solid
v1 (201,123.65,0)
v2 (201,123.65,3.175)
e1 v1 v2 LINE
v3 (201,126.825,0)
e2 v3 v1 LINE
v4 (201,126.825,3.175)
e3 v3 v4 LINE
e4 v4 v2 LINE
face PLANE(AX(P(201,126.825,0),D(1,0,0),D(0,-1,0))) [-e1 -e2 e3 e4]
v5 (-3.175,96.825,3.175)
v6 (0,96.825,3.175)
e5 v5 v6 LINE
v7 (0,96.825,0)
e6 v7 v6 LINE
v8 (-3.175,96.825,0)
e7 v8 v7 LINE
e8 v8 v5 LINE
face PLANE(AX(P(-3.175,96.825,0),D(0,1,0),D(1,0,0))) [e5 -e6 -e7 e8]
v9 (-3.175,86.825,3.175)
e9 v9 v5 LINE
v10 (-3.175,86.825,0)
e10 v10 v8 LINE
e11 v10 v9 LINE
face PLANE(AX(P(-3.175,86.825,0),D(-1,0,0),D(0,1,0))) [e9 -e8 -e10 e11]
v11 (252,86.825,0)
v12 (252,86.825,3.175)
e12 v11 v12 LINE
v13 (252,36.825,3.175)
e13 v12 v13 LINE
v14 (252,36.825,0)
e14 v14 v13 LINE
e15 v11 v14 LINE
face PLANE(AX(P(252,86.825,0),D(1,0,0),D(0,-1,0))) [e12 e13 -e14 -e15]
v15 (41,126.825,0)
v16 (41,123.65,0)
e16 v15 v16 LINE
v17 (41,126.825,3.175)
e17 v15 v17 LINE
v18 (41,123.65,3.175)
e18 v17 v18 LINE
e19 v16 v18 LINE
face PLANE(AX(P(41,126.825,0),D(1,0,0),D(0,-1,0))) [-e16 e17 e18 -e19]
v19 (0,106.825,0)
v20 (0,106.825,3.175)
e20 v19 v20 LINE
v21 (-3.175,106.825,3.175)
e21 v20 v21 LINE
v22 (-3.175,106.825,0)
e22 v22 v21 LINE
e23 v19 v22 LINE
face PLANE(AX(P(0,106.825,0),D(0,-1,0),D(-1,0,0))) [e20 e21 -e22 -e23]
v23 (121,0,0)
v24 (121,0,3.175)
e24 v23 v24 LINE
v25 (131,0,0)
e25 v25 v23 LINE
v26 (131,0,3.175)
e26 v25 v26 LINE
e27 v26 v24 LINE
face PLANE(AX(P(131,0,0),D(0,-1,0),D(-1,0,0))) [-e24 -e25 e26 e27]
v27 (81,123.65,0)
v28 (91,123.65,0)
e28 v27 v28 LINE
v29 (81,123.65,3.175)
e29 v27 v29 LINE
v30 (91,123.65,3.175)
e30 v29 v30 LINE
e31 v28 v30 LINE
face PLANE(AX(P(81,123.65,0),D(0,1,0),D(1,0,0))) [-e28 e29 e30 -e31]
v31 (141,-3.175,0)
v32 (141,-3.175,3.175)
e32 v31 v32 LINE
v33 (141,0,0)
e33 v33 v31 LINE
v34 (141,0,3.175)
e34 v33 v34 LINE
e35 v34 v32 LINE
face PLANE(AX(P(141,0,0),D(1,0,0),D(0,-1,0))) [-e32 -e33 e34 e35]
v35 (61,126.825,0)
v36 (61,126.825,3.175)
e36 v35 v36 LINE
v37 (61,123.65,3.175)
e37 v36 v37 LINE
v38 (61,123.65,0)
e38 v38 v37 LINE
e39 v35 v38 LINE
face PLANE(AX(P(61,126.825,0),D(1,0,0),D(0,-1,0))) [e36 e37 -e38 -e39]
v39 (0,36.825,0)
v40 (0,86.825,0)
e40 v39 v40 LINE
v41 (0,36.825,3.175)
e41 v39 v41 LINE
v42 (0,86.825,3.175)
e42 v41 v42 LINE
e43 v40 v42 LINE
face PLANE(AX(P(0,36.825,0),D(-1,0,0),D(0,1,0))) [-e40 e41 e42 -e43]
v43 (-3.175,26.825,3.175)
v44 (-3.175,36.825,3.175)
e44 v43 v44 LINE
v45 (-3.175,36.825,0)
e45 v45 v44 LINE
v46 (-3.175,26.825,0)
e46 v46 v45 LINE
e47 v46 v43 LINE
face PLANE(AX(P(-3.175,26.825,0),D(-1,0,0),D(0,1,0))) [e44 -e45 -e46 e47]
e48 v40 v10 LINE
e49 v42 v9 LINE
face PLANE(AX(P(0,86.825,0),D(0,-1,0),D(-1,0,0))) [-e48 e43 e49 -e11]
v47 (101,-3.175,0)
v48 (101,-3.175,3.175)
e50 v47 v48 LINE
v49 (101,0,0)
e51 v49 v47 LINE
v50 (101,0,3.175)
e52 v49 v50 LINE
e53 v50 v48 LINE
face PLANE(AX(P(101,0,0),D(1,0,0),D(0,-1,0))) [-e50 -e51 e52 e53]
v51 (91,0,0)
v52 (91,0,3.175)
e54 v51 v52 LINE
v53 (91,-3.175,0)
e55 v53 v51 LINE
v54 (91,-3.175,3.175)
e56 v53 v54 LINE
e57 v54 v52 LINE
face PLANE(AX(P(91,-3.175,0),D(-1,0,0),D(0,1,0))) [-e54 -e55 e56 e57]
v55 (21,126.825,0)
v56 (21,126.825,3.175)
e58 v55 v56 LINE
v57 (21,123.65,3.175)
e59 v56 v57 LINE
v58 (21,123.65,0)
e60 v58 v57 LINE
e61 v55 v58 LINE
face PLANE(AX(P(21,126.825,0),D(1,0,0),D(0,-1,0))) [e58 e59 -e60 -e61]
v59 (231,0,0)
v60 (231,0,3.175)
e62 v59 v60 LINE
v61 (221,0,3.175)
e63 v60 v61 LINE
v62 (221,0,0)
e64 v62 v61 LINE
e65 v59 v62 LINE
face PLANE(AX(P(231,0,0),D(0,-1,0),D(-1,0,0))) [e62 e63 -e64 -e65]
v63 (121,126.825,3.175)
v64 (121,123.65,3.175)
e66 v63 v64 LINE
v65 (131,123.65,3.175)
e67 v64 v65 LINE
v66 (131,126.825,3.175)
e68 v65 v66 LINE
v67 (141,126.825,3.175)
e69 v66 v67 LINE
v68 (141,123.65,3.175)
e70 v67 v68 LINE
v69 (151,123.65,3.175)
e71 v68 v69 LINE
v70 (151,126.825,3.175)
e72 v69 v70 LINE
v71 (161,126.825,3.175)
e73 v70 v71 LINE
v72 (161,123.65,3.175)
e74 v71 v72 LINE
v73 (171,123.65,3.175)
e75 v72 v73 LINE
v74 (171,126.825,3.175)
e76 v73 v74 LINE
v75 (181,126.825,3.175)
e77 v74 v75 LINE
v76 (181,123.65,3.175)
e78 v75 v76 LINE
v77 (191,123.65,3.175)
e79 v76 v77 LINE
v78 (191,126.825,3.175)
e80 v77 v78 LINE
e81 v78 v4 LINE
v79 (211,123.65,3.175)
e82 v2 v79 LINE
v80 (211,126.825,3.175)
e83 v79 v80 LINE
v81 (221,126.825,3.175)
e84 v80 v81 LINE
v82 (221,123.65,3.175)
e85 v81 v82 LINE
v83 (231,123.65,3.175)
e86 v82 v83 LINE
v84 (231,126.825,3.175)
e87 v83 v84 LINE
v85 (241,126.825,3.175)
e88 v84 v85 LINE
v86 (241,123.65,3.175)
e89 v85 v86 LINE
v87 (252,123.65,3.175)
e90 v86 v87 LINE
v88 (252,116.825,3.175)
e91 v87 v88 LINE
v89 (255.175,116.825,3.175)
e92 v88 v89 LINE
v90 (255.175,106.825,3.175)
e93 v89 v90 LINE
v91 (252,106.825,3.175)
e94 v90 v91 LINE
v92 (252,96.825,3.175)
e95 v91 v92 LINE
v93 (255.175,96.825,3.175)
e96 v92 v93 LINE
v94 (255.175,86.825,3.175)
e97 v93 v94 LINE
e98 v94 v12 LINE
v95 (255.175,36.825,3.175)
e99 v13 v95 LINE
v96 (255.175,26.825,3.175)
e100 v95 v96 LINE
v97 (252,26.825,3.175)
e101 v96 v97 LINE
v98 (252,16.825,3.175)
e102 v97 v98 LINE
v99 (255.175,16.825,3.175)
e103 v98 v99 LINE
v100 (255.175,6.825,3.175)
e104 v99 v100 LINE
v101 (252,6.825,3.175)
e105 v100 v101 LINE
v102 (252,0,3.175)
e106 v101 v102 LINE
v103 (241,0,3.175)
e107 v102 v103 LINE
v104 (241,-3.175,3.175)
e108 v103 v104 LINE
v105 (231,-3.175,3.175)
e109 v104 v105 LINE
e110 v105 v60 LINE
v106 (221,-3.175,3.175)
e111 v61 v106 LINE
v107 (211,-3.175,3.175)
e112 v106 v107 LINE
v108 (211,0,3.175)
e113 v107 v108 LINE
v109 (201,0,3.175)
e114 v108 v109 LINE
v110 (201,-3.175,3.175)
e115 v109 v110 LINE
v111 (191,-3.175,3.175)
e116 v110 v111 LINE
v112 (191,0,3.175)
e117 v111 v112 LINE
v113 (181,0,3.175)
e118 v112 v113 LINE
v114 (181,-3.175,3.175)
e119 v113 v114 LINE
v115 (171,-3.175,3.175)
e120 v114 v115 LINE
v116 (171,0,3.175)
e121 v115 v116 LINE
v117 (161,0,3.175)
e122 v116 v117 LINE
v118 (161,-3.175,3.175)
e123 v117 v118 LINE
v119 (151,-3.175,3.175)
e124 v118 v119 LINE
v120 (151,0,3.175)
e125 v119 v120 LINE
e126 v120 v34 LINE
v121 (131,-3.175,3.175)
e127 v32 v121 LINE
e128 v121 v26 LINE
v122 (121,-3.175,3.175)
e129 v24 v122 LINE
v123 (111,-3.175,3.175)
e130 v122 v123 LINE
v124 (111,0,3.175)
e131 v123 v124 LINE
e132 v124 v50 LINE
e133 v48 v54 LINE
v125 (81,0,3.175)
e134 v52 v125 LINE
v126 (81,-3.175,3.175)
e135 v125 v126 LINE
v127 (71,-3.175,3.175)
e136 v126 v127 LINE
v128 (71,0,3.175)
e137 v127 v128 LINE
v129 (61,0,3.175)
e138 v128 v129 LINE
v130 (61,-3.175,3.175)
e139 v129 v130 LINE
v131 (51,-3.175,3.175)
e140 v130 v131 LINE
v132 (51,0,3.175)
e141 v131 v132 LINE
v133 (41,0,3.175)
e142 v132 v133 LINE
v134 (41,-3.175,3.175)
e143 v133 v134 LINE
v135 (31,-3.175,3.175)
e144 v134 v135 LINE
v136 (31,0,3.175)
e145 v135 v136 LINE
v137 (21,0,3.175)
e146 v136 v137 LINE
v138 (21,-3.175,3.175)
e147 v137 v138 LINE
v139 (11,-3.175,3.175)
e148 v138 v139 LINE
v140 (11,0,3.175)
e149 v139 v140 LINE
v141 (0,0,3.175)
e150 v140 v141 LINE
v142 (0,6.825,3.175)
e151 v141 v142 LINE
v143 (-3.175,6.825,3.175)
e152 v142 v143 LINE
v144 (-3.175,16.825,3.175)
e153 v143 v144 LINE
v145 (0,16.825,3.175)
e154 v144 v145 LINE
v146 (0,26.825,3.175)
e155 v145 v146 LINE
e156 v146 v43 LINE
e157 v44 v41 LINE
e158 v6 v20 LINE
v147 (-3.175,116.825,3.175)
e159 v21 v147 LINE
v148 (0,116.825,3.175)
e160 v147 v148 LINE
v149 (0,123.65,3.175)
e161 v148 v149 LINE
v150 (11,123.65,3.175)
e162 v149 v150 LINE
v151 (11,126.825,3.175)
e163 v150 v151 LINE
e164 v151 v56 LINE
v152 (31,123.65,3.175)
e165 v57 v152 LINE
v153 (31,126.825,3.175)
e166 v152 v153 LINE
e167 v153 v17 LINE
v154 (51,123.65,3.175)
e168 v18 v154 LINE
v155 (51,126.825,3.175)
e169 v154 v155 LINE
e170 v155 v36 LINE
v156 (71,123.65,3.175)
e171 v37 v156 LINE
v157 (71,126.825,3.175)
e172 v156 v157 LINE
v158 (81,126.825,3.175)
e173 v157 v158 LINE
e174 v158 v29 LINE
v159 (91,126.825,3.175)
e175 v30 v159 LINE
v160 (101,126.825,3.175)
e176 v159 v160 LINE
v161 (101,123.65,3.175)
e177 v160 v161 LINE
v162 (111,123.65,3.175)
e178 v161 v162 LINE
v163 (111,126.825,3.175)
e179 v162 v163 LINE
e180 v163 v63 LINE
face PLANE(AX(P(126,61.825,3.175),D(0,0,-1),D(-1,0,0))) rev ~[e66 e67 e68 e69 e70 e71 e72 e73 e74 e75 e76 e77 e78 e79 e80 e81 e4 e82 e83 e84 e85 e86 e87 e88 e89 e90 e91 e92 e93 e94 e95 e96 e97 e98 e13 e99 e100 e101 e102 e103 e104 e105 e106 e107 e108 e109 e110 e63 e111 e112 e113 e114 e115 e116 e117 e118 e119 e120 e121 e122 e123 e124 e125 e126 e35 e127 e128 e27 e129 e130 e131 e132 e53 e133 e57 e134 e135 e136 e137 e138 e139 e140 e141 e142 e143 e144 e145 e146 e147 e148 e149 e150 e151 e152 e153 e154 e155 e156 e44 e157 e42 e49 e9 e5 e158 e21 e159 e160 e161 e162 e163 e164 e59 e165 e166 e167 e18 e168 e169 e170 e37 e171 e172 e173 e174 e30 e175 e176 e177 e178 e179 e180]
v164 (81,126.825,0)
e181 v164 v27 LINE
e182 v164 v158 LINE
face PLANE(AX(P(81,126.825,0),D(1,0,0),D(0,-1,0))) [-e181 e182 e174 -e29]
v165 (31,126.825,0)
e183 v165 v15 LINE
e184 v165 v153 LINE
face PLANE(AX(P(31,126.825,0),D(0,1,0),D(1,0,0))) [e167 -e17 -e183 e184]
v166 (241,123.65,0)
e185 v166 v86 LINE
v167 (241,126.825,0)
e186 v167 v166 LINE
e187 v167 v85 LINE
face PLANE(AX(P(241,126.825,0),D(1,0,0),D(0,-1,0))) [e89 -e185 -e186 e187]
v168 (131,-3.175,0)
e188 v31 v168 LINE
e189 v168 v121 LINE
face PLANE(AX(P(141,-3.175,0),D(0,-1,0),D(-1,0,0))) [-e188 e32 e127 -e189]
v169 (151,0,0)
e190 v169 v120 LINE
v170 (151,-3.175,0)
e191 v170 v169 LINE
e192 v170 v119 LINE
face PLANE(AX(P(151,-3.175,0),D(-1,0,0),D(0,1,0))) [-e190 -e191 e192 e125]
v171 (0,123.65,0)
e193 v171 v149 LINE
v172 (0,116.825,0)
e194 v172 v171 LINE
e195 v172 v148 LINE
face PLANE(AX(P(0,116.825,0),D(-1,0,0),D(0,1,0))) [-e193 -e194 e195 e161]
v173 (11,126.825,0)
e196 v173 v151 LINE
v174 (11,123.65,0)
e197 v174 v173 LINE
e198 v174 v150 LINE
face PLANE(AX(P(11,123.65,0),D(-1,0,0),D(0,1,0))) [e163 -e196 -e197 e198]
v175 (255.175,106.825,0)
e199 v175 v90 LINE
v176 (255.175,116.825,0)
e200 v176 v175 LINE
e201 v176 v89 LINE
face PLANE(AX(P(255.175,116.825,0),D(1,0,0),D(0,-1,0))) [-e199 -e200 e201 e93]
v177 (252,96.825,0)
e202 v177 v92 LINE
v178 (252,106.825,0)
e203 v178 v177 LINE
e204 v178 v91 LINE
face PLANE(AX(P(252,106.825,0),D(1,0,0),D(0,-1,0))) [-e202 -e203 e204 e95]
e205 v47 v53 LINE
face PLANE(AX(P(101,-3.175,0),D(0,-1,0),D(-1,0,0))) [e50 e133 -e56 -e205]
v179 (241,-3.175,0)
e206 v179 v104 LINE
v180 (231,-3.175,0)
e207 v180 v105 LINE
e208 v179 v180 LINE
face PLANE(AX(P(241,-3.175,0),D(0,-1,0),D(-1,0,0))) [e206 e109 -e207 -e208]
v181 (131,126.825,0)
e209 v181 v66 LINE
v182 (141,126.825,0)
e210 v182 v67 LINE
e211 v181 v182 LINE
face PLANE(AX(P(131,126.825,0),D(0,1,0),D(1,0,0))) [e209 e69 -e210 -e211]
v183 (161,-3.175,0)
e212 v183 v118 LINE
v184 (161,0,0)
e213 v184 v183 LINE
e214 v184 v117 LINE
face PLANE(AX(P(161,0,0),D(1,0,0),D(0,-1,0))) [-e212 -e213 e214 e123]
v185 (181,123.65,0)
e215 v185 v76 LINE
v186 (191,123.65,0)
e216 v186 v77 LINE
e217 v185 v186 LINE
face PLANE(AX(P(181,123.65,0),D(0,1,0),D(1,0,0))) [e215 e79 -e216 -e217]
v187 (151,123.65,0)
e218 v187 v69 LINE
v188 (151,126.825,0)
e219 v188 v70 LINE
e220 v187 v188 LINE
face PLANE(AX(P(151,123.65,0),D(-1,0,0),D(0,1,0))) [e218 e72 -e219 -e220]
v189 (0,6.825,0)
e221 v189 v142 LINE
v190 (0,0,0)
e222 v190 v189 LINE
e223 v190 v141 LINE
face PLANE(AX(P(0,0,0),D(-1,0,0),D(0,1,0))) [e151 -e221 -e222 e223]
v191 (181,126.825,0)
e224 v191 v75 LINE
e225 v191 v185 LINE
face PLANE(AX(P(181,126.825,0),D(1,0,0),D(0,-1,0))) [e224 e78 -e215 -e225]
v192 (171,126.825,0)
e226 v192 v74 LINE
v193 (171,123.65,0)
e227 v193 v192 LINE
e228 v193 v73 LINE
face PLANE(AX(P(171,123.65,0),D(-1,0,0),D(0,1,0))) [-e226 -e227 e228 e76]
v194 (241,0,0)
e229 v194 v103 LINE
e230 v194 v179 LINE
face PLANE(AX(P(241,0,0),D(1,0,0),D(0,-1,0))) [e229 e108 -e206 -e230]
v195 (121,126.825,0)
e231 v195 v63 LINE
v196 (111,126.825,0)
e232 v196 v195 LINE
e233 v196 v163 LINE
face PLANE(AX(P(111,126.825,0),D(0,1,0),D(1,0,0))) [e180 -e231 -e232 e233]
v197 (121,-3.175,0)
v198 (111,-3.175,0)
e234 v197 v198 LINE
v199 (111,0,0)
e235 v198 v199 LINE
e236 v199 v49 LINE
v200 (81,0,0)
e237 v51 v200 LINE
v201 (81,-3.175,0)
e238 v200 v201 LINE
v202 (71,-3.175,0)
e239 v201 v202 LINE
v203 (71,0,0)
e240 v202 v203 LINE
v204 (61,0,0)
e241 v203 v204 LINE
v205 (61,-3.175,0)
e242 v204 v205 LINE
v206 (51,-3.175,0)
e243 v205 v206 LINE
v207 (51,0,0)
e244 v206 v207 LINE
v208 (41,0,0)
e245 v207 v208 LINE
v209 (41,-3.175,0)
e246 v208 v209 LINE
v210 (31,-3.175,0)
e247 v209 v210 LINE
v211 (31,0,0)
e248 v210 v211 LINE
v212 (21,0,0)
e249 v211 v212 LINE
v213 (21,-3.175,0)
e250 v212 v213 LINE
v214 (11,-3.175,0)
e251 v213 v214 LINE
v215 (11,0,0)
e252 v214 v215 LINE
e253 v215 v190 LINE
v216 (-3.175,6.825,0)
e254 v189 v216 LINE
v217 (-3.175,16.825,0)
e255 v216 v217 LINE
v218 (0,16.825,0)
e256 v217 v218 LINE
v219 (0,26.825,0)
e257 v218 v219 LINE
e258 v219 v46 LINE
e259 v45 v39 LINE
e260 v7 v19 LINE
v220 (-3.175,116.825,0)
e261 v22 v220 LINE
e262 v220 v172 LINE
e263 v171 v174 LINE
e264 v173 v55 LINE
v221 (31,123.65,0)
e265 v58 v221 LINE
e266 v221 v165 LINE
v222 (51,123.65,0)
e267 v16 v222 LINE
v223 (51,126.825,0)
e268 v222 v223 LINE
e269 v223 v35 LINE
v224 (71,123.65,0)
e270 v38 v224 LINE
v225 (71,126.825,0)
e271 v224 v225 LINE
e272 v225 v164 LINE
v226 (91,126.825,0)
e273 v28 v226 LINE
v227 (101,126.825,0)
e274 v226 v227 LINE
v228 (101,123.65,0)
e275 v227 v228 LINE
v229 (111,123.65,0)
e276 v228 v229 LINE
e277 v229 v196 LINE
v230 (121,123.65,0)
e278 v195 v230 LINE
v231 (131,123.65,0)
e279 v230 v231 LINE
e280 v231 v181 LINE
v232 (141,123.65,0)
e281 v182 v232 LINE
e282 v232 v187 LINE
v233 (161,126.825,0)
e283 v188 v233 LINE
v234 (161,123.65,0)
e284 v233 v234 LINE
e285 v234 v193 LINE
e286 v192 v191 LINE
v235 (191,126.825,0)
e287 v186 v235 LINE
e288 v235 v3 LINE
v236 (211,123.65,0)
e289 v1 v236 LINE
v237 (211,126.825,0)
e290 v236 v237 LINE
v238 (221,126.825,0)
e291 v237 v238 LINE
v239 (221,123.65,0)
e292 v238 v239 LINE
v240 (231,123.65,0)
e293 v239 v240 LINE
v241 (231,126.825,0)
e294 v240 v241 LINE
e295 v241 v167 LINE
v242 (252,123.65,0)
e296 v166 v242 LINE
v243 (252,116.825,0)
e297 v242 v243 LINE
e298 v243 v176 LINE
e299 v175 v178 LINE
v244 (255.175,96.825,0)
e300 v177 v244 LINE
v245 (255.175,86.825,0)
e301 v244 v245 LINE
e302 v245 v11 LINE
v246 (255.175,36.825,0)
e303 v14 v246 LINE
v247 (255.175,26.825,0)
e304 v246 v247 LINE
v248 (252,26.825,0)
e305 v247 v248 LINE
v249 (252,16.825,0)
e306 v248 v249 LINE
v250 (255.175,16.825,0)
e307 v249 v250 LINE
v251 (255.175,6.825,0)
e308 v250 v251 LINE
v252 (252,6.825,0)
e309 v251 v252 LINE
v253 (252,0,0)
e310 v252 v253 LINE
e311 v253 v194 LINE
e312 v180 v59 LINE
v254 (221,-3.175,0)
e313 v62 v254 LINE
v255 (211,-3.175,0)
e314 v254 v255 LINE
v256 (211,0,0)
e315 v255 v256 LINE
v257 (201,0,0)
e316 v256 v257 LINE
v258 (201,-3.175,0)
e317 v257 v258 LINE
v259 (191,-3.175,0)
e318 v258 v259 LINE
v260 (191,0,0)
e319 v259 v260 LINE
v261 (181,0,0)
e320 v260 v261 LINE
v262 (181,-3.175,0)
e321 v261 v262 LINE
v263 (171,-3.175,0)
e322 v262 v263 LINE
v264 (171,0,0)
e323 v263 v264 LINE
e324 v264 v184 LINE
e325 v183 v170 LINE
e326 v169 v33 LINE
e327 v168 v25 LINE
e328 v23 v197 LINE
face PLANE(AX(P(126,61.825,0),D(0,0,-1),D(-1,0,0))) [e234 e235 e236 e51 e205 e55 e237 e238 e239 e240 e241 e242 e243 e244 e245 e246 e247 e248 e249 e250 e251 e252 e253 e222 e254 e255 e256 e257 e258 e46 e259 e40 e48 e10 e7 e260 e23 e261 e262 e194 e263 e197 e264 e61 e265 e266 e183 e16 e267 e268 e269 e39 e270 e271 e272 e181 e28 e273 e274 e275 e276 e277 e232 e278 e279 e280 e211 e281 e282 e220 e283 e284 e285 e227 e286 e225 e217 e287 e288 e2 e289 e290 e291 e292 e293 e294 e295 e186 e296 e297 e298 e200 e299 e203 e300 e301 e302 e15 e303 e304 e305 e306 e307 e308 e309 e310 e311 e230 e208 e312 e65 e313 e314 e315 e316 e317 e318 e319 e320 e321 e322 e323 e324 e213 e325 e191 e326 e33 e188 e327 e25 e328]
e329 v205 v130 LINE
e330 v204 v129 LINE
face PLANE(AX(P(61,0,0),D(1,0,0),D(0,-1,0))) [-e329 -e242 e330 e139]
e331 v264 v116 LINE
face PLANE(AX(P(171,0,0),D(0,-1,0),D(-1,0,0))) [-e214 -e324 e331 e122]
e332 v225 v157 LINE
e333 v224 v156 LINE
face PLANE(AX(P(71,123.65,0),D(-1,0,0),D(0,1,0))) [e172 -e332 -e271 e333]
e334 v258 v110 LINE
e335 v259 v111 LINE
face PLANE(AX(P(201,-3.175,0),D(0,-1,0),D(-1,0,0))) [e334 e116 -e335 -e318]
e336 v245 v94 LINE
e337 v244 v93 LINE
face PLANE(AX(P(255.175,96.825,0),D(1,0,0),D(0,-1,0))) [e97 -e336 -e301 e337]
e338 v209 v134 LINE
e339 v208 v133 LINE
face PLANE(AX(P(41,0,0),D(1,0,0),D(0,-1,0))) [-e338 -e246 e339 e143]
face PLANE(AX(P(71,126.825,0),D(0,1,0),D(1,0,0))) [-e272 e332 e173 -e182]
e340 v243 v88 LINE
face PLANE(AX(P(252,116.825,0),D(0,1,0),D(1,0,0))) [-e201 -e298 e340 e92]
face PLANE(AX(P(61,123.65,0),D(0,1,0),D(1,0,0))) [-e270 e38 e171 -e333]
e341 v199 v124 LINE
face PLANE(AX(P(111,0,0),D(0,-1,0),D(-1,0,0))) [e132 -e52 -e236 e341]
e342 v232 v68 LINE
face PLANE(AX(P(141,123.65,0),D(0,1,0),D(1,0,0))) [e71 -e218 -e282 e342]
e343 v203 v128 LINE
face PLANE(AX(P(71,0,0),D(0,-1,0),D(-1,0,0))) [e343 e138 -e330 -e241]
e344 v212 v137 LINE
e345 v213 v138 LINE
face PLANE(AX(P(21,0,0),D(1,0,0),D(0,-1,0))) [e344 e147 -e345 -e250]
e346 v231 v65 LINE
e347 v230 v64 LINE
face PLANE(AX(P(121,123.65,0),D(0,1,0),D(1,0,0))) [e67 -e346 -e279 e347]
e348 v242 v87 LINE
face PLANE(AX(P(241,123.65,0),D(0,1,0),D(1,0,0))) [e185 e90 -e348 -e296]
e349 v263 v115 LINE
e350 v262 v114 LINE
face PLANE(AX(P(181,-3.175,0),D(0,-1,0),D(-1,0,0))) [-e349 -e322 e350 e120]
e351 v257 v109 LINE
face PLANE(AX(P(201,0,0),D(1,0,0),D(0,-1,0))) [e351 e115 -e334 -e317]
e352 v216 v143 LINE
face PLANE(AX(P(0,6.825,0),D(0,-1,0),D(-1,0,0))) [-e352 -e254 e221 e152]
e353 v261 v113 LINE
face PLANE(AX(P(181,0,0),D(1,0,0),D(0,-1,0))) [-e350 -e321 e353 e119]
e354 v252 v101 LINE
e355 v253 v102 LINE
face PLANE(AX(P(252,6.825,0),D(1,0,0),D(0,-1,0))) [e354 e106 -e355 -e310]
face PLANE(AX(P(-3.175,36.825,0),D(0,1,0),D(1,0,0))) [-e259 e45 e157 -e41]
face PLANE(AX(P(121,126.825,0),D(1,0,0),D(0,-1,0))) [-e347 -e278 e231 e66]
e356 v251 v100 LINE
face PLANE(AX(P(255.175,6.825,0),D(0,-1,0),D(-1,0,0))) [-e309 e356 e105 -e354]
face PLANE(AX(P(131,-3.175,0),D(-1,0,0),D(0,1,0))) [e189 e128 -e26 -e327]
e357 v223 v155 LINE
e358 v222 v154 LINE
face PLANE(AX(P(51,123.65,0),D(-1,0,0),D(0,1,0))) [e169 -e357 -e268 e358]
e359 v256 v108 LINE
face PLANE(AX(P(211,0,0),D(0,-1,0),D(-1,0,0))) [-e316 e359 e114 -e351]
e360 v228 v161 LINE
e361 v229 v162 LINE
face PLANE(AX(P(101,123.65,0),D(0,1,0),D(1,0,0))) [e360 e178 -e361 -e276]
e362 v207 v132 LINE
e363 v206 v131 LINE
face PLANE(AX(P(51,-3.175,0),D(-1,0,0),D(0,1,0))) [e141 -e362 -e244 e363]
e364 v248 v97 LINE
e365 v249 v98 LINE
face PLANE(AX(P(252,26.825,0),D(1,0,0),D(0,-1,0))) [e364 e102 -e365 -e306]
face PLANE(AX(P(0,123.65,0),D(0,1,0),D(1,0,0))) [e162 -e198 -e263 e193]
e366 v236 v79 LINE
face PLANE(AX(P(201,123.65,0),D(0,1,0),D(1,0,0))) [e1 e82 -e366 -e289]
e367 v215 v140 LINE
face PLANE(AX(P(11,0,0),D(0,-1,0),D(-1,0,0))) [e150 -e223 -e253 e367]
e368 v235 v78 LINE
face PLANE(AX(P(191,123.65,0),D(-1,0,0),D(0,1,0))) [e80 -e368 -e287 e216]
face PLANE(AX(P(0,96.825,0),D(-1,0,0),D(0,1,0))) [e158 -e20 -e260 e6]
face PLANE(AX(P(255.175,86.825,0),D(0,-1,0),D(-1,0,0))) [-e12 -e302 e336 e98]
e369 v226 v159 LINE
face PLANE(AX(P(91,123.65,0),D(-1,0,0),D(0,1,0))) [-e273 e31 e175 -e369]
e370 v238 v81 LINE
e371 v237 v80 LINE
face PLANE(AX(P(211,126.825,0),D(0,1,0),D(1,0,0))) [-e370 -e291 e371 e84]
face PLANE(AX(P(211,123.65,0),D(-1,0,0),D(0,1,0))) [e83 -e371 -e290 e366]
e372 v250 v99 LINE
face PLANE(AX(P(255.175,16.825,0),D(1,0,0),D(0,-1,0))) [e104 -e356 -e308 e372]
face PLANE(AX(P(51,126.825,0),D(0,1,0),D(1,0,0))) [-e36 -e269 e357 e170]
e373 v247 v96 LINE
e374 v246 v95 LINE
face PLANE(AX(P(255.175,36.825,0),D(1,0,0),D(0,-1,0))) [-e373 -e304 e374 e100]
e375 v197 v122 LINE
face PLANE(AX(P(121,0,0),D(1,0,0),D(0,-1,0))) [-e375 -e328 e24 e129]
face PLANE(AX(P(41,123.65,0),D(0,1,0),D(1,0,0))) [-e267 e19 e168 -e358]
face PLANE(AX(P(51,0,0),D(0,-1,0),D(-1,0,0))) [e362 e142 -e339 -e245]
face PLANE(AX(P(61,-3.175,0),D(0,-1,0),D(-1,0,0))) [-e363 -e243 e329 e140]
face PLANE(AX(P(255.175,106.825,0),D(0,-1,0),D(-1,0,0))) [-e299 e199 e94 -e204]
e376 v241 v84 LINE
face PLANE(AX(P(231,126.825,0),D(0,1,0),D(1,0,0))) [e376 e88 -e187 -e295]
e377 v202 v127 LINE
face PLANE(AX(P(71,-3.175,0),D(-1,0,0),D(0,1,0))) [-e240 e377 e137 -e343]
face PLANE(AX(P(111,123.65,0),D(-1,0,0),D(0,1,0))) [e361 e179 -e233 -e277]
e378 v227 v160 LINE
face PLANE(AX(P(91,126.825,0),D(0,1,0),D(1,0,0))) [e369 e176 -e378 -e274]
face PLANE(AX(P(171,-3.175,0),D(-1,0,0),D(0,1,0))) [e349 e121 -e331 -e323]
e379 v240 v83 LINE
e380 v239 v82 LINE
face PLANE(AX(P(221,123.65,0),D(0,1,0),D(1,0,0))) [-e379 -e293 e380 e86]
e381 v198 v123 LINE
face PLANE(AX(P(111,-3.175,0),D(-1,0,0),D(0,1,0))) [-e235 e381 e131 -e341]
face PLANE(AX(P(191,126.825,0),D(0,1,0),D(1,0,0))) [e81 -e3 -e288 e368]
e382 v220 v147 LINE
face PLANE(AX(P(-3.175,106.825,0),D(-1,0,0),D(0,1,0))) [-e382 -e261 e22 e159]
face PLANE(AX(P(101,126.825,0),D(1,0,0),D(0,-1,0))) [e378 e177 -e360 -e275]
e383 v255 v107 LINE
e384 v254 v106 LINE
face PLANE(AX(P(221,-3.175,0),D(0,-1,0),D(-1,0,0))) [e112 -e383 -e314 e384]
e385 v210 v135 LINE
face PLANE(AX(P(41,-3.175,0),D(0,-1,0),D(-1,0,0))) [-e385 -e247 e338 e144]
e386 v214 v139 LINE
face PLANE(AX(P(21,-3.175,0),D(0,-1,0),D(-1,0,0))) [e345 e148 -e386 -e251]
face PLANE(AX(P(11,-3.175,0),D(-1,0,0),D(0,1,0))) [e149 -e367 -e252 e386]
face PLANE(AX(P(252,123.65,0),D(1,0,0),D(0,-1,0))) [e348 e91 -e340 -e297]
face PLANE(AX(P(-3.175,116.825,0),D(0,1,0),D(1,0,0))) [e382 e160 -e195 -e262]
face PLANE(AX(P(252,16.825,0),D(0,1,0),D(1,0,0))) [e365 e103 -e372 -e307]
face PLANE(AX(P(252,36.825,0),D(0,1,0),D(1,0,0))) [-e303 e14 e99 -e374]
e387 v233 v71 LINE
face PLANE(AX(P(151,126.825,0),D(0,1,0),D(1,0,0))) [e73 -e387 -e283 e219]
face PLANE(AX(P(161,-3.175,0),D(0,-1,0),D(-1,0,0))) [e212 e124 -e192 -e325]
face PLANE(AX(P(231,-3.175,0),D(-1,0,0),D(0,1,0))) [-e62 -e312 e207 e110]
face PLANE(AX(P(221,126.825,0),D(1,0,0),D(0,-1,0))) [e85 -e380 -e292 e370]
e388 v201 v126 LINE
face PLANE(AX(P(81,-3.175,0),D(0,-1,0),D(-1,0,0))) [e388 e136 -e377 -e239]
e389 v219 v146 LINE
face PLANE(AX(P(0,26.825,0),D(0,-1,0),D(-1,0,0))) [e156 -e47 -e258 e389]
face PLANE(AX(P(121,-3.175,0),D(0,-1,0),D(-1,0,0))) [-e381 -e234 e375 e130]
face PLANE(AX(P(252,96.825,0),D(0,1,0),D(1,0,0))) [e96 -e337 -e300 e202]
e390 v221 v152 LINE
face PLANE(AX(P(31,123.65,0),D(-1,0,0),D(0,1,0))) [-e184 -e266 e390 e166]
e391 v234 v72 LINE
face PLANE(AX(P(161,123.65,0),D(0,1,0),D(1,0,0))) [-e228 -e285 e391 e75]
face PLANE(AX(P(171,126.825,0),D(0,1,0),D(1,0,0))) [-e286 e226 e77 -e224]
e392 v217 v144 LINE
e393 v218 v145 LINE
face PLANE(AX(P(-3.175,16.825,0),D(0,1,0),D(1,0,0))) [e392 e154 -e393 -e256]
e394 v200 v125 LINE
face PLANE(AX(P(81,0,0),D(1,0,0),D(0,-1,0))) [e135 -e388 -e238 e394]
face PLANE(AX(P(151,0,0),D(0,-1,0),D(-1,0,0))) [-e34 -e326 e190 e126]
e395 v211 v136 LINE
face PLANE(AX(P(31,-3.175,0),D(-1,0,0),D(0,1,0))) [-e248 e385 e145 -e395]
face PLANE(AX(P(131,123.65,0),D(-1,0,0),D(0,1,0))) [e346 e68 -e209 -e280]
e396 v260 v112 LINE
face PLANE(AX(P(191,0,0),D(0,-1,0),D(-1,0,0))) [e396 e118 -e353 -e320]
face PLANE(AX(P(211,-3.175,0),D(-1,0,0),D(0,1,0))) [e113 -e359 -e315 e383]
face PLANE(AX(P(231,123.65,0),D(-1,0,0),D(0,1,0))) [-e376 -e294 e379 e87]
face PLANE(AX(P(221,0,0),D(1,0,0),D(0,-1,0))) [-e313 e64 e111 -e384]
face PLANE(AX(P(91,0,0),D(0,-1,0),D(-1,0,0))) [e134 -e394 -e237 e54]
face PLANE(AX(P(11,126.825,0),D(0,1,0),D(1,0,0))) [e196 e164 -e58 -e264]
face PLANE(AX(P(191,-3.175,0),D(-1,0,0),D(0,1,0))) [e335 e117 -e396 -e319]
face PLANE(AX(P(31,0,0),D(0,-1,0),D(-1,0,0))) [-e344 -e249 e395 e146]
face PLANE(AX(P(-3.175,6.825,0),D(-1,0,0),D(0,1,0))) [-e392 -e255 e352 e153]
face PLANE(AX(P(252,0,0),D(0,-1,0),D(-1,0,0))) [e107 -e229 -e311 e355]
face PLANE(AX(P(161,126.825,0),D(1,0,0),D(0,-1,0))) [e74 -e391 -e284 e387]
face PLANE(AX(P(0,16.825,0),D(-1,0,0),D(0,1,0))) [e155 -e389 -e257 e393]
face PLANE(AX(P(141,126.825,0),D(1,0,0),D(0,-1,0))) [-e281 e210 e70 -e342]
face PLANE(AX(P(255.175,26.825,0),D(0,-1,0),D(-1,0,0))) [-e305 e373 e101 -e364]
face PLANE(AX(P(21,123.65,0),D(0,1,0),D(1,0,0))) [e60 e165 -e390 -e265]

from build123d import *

# Parameters (mm, degrees)
BOSS_EXTRUDE1_DEPTH = 3.175


with BuildPart() as part:
    # Sketch1 → Boss-Extrude1 (new body)
    with BuildSketch(Plane.XY):
        Polygon((31, 123.65), (31, 126.825), (41, 126.825), (41, 123.65), (51, 123.65), (51, 126.825), (61, 126.825), (61, 123.65), (71, 123.65), (71, 126.825), (81, 126.825), (81, 123.65), (91, 123.65), (91, 126.825), (101, 126.825), (101, 123.65), (111, 123.65), (111, 126.825), (121, 126.825), (121, 123.65), (131, 123.65), (131, 126.825), (141, 126.825), (141, 123.65), (151, 123.65), (151, 126.825), (161, 126.825), (161, 123.65), (171, 123.65), (171, 126.825), (181, 126.825), (181, 123.65), (191, 123.65), (191, 126.825), (201, 126.825), (201, 123.65), (211, 123.65), (211, 126.825), (221, 126.825), (221, 123.65), (231, 123.65), (231, 126.825), (241, 126.825), (241, 123.65), (252, 123.65), (252, 116.825), (255.175, 116.825), (255.175, 106.825), (252, 106.825), (252, 96.825), (255.175, 96.825), (255.175, 86.825), (252, 86.825), (252, 36.825), (255.175, 36.825), (255.175, 26.825), (252, 26.825), (252, 16.825), (255.175, 16.825), (255.175, 6.825), (252, 6.825), (252, 0), (241, 0), (241, -3.175), (231, -3.175), (231, 0), (221, 0), (221, -3.175), (211, -3.175), (211, 0), (201, 0), (201, -3.175), (191, -3.175), (191, 0), (181, 0), (181, -3.175), (171, -3.175), (171, 0), (161, 0), (161, -3.175), (151, -3.175), (151, 0), (141, 0), (141, -3.175), (131, -3.175), (131, 0), (121, 0), (121, -3.175), (111, -3.175), (111, 0), (101, 0), (101, -3.175), (91, -3.175), (91, 0), (81, 0), (81, -3.175), (71, -3.175), (71, 0), (61, 0), (61, -3.175), (51, -3.175), (51, 0), (41, 0), (41, -3.175), (31, -3.175), (31, 0), (21, 0), (21, -3.175), (11, -3.175), (11, 0), (0, 0), (0, 6.825), (-3.175, 6.825), (-3.175, 16.825), (0, 16.825), (0, 26.825), (-3.175, 26.825), (-3.175, 36.825), (0, 36.825), (0, 86.825), (-3.175, 86.825), (-3.175, 96.825), (0, 96.825), (0, 106.825), (-3.175, 106.825), (-3.175, 116.825), (0, 116.825), (0, 123.65), (11, 123.65), (11, 126.825), (21, 126.825), (21, 123.65), align=None)
    extrude(amount=BOSS_EXTRUDE1_DEPTH)


solid = part.part
